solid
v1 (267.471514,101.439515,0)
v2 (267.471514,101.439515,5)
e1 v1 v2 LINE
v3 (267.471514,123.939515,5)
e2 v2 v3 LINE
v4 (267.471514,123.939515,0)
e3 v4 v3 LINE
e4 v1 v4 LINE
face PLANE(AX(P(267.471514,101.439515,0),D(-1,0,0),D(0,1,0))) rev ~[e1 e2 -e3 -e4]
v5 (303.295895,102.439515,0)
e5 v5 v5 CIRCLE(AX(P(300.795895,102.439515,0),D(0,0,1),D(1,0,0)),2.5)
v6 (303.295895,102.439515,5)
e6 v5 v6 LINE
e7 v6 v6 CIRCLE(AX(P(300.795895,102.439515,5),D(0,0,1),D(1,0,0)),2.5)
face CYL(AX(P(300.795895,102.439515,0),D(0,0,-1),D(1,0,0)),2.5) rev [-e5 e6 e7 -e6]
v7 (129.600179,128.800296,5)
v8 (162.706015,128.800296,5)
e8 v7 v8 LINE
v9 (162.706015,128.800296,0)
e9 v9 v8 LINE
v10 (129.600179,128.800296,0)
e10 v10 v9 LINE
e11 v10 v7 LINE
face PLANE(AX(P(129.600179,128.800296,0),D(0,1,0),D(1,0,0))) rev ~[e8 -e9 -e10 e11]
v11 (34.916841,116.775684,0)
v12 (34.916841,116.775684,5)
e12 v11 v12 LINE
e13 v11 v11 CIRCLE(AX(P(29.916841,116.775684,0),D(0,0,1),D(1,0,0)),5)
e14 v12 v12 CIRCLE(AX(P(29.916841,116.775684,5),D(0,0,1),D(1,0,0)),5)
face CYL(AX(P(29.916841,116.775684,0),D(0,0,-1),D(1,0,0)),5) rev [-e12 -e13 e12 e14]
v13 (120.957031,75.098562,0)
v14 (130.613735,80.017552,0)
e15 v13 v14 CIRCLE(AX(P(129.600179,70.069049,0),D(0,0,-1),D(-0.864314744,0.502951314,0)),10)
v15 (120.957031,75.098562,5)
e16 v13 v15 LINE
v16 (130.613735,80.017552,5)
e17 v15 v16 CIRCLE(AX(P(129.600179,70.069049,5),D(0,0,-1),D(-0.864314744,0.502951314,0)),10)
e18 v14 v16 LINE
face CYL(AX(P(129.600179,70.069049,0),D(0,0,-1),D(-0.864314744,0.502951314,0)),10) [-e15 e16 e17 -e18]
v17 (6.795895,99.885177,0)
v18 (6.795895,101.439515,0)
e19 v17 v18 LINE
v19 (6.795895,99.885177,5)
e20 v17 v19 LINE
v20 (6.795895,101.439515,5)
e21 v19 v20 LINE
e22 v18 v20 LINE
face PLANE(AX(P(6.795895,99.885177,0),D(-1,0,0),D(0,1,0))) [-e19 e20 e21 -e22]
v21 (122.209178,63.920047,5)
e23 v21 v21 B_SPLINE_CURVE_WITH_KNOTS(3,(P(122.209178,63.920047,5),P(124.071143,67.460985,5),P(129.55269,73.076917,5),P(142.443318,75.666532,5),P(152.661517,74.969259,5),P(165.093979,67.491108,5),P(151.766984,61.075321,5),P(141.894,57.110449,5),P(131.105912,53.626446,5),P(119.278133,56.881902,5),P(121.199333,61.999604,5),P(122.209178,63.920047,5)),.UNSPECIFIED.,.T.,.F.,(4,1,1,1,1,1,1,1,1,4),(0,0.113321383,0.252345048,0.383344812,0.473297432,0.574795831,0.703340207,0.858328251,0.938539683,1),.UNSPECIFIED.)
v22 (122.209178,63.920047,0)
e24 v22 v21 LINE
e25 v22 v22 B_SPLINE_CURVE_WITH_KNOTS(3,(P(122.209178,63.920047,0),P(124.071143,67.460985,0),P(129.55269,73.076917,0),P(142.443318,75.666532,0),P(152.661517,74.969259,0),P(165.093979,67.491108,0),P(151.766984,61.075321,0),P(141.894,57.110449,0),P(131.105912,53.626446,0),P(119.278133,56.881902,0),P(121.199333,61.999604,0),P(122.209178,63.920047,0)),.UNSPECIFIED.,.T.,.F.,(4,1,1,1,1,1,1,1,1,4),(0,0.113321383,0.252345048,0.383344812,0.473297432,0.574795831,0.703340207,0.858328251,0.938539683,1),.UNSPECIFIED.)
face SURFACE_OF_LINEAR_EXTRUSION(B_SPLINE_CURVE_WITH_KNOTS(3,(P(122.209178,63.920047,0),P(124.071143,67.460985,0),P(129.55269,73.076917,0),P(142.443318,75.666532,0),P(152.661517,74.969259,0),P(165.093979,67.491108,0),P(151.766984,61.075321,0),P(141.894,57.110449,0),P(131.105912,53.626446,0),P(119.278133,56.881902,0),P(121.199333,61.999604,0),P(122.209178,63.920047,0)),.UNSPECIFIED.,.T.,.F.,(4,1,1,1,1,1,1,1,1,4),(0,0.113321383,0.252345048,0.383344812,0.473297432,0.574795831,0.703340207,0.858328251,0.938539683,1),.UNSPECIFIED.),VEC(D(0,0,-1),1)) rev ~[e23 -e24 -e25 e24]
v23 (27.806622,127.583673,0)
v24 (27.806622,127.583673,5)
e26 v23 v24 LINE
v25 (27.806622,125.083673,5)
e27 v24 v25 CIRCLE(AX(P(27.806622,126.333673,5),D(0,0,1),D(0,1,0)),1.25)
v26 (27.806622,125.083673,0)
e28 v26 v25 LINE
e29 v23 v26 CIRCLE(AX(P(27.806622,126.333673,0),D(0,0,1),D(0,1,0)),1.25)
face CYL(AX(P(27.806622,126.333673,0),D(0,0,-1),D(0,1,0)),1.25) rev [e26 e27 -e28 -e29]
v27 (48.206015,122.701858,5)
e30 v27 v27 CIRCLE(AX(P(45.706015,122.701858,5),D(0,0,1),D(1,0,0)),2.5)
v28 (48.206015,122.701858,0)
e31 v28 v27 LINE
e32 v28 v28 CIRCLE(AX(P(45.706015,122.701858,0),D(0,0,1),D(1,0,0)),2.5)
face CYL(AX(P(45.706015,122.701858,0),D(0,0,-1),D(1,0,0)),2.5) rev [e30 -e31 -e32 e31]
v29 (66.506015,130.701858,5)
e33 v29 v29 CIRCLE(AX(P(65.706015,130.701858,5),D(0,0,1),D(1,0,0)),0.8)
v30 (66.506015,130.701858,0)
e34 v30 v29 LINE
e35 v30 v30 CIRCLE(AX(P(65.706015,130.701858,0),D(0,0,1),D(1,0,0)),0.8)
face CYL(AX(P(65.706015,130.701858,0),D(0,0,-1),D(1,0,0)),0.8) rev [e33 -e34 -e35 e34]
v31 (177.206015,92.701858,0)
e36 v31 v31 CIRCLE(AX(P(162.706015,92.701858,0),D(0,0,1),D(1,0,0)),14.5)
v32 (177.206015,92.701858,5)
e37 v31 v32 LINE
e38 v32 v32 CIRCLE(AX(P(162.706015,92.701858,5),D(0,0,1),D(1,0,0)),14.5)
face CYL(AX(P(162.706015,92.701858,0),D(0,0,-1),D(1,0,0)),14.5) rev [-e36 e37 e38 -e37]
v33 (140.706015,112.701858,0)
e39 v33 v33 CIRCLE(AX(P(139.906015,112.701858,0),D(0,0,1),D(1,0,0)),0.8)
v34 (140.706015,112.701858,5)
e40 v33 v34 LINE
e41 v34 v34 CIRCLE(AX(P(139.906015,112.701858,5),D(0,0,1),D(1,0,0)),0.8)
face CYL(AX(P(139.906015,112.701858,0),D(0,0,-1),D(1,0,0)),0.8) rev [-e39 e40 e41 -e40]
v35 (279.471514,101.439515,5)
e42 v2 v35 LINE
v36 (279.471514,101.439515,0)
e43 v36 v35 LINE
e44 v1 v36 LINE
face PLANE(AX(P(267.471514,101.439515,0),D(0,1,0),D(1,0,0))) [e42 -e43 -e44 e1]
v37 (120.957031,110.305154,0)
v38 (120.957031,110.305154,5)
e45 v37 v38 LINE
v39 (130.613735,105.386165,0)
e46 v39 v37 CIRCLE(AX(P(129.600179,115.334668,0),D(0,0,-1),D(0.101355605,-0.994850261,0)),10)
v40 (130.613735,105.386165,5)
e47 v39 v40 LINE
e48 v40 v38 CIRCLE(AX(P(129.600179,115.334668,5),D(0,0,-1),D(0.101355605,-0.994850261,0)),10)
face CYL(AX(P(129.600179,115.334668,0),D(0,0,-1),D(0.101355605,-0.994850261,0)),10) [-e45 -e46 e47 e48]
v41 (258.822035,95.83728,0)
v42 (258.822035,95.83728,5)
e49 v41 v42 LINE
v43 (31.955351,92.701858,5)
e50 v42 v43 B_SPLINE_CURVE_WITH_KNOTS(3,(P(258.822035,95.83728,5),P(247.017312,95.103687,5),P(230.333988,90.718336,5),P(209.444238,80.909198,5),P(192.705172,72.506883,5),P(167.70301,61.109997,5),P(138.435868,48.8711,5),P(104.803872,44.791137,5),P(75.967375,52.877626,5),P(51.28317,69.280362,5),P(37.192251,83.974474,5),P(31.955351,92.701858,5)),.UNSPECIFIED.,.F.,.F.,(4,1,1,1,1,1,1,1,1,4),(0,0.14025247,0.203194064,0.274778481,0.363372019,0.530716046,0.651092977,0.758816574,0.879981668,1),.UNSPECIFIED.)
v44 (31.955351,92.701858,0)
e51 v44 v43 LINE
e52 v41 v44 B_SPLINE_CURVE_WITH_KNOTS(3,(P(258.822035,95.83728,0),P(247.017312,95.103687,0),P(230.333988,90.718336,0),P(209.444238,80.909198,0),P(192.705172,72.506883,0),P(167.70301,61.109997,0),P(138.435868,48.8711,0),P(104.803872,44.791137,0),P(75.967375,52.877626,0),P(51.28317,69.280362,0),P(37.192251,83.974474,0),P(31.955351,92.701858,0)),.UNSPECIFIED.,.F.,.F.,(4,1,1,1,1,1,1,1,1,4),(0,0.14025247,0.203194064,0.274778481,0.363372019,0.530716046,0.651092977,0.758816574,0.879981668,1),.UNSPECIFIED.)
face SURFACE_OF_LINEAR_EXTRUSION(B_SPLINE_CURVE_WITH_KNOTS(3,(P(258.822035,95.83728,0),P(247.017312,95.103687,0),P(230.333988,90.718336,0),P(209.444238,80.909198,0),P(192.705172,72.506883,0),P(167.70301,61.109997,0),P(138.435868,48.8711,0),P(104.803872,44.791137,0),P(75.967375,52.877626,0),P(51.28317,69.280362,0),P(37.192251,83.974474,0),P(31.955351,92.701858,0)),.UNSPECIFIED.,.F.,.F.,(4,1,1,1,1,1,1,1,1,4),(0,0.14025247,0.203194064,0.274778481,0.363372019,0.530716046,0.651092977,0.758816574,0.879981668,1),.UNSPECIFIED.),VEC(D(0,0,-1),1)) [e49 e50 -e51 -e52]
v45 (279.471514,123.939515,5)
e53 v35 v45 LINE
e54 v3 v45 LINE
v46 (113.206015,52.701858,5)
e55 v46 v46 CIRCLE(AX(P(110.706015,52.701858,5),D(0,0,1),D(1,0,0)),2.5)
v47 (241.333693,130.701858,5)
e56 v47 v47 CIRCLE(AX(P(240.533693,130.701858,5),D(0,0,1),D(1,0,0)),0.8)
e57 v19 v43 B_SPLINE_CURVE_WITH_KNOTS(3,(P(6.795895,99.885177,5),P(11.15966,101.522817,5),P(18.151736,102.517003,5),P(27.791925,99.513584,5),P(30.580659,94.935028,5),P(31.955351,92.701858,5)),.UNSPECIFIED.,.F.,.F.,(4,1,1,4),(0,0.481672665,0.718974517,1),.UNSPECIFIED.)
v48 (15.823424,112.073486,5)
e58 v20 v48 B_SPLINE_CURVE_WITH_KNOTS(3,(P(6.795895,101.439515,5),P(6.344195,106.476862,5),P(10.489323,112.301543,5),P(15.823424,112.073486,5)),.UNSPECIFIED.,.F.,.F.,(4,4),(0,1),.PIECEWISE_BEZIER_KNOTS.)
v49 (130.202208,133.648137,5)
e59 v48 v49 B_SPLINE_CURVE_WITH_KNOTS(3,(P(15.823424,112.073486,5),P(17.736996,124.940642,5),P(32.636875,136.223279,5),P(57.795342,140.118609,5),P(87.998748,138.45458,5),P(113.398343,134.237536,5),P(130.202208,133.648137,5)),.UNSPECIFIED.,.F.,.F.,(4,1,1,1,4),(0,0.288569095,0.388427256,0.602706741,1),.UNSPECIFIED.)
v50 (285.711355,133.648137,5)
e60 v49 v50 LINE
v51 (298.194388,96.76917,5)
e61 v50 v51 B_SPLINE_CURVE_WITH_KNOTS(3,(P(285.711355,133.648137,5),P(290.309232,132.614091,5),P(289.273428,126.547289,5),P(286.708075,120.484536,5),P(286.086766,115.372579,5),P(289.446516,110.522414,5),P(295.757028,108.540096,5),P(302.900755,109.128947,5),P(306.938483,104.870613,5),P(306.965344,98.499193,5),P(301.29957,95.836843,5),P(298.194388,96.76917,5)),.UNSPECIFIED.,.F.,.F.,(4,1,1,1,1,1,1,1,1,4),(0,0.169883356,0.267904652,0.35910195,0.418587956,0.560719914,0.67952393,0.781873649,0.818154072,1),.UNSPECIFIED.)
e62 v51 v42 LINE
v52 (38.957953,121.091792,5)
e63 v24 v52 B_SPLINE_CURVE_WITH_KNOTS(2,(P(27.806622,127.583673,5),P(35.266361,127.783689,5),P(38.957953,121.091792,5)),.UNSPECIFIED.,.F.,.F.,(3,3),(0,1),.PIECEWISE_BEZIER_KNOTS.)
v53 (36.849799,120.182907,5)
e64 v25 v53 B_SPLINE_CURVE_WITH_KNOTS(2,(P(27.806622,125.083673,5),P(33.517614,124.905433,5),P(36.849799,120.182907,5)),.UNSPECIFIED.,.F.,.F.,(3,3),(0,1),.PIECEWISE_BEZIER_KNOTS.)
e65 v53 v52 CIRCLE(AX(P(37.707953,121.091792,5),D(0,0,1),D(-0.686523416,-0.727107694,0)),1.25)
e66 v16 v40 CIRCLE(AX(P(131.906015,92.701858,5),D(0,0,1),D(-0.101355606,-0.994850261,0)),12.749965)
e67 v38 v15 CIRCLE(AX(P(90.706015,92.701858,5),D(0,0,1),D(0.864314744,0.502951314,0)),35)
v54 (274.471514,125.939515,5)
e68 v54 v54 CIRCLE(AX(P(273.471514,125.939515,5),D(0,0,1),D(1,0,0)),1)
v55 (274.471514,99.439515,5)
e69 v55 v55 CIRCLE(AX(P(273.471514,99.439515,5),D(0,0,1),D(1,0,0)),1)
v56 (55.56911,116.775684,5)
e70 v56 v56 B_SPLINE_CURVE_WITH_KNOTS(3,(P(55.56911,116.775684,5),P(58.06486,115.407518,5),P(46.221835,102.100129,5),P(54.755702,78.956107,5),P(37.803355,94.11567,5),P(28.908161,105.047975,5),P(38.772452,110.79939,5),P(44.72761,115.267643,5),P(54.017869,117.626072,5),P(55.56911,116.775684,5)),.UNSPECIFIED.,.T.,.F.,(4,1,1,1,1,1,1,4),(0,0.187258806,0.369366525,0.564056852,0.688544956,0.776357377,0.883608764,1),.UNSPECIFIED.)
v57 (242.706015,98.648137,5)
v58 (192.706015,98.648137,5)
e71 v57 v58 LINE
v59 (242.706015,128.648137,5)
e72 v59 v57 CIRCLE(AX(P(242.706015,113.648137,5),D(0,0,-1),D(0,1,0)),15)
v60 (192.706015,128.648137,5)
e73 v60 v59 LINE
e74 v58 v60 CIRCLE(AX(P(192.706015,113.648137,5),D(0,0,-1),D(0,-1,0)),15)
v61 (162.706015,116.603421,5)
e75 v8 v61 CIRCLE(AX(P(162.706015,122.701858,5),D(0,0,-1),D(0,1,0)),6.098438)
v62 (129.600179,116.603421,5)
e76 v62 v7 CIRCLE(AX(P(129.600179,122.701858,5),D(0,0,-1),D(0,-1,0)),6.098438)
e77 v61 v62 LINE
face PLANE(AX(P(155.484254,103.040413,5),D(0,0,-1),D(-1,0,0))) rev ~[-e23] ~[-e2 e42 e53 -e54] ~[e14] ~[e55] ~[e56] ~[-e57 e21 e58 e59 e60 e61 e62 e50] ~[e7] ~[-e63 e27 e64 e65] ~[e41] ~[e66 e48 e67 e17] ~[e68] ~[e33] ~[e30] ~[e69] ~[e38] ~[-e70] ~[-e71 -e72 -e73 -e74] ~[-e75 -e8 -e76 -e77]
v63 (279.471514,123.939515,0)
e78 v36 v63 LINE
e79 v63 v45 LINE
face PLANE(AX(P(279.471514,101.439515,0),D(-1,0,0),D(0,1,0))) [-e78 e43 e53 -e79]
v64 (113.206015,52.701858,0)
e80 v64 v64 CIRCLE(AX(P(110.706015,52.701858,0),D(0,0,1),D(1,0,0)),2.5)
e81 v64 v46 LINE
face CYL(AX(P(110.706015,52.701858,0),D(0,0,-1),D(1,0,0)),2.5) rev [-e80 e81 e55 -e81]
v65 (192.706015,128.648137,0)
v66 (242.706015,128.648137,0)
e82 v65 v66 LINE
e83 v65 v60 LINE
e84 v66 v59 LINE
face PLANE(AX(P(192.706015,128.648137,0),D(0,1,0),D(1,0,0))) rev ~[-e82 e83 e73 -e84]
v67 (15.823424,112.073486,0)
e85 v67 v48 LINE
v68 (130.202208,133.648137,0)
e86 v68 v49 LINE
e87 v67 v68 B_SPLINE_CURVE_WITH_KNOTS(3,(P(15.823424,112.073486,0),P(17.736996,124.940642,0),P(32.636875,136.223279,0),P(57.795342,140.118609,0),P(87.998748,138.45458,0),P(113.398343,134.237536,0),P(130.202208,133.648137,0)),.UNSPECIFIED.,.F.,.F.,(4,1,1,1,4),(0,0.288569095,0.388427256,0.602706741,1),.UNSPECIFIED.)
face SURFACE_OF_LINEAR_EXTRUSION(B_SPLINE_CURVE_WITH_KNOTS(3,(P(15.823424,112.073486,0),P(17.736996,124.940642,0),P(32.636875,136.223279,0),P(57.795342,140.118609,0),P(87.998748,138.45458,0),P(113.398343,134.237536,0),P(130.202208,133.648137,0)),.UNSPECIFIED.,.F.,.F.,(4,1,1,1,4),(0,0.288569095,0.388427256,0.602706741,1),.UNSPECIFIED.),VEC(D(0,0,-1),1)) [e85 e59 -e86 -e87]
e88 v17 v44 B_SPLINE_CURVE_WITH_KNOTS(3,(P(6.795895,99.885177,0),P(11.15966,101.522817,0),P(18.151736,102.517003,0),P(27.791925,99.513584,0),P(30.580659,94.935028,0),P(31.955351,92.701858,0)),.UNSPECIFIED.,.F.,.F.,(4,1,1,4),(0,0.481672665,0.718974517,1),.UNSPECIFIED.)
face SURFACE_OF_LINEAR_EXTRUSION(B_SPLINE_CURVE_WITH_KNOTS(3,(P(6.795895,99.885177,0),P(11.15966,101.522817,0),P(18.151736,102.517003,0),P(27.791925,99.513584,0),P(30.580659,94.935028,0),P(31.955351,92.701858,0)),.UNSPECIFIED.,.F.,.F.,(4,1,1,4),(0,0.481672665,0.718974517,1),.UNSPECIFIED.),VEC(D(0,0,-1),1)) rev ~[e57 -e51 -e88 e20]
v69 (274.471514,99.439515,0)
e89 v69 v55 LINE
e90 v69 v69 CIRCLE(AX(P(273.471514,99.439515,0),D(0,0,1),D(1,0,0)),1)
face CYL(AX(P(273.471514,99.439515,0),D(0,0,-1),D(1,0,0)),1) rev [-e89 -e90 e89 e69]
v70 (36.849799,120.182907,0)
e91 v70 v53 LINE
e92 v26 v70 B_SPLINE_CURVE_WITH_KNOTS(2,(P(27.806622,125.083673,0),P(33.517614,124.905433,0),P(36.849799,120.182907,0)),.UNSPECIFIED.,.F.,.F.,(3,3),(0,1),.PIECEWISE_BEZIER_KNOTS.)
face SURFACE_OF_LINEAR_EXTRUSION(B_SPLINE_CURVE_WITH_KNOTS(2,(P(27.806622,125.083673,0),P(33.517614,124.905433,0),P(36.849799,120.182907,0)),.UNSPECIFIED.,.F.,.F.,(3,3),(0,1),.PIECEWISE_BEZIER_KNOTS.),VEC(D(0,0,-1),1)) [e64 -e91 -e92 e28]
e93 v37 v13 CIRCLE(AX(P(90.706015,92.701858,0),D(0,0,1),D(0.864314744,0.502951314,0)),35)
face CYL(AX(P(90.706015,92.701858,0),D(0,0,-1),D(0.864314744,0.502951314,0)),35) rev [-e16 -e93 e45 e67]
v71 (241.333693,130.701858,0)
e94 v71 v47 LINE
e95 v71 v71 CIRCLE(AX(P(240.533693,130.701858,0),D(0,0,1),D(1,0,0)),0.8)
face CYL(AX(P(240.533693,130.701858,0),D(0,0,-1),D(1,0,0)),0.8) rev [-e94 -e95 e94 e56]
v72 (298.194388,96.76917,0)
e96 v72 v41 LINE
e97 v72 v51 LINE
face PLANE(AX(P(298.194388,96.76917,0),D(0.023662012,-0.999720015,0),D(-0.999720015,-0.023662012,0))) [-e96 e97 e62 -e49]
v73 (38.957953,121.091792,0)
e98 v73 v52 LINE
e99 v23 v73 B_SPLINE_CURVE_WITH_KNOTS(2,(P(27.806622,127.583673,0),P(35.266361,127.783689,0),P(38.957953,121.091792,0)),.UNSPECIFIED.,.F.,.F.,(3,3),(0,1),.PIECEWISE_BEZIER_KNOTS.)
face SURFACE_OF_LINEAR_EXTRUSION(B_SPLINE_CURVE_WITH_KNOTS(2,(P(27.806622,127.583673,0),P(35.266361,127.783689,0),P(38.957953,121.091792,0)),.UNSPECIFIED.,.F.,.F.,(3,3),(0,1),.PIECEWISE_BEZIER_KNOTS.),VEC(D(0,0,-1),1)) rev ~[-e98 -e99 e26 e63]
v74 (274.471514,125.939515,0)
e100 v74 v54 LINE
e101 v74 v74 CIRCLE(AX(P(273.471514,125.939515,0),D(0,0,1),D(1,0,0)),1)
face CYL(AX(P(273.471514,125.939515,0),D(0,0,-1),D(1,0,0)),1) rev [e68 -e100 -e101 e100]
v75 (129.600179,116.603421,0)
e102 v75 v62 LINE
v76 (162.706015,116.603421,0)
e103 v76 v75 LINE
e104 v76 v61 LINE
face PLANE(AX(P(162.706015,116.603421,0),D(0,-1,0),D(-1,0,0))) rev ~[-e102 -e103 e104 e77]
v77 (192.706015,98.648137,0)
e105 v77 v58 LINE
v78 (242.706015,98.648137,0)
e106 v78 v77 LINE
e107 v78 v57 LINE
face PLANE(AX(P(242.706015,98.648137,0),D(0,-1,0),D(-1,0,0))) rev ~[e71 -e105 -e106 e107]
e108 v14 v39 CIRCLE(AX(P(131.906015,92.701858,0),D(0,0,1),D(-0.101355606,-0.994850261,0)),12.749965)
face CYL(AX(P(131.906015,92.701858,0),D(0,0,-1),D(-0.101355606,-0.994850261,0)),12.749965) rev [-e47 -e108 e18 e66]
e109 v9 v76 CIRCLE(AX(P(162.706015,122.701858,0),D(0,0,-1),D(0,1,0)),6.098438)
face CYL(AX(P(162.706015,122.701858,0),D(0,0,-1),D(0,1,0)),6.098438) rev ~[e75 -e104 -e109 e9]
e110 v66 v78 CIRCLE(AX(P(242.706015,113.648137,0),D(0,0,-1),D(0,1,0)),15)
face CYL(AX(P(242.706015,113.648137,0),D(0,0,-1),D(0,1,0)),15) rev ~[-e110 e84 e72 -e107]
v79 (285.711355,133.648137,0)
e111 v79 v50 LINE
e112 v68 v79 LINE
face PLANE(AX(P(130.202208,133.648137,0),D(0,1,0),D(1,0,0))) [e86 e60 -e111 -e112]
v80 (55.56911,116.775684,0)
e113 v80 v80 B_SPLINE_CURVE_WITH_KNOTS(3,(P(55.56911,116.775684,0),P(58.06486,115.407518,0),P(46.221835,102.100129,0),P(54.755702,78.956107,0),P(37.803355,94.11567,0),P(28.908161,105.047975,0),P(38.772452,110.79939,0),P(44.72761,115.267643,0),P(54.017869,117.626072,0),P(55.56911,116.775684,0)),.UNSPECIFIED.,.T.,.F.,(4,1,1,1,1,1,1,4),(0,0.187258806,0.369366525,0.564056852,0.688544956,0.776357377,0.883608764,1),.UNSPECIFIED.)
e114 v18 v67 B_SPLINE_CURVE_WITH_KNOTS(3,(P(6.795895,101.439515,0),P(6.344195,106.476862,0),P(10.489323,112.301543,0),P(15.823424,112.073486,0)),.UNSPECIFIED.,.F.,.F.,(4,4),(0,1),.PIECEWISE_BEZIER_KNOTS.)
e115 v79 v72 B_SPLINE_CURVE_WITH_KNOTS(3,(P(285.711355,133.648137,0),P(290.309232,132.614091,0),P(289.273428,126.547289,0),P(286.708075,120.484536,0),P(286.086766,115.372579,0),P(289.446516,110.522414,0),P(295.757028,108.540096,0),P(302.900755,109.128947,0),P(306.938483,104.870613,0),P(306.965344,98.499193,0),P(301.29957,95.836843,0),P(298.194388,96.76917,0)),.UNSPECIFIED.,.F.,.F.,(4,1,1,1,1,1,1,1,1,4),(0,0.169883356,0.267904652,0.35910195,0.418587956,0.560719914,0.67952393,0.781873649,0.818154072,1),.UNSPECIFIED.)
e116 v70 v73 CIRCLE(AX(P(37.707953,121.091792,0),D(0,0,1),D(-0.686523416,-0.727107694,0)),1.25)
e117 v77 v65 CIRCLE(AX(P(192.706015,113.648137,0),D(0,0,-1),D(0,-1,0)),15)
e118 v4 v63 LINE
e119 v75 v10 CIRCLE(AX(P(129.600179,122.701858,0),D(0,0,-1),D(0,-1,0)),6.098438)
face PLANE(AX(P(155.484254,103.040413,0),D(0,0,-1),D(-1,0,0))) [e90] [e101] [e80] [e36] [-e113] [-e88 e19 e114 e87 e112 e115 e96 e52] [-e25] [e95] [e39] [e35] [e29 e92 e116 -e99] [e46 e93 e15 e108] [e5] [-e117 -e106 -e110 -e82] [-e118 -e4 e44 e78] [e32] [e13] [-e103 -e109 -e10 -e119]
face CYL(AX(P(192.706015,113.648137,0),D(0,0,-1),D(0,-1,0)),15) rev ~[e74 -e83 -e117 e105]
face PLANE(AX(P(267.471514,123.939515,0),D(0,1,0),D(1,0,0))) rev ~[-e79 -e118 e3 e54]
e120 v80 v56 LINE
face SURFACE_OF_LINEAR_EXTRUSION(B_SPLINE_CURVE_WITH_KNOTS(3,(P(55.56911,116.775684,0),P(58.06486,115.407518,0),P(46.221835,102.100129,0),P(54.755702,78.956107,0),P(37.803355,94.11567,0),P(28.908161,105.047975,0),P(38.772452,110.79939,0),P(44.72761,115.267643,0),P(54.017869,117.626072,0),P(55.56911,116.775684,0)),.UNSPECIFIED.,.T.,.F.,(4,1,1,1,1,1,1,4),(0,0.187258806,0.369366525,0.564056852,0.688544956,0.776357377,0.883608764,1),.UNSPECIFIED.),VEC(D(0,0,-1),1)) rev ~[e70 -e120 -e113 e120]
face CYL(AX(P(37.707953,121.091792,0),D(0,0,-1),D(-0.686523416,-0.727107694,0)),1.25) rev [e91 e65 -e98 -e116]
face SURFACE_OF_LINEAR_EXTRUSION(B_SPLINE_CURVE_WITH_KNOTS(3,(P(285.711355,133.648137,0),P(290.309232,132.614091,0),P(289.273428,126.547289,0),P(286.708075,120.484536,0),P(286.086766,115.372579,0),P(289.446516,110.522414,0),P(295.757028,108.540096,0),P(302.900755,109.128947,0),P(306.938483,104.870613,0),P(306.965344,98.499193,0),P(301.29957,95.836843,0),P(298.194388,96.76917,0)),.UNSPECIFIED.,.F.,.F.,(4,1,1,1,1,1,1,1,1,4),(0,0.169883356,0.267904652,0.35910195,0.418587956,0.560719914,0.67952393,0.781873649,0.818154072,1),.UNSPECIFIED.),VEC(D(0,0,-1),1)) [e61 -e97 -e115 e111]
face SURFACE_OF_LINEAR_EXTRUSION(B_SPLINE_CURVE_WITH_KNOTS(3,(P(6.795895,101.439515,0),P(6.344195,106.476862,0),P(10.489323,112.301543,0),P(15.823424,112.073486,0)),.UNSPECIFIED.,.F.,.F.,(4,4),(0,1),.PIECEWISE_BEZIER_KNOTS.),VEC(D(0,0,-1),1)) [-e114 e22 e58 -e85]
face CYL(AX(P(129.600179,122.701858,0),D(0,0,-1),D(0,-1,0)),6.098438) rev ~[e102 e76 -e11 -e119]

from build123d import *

# Parameters (mm, degrees)
SKETCH3_R           = 5
SKETCH3_R_2         = 14.5
SKETCH3_R_3         = 2.5
SKETCH3_R_4         = 0.8
SKETCH3_R_5         = 1
SKETCH3_W           = 12
SKETCH3_H           = 22.5
BOSS_EXTRUDE1_DEPTH = 5


with BuildPart() as part:
    # Sketch3 → Boss-Extrude1 (new body)
    with BuildSketch(Plane.XY):
        with BuildLine():
            Line((130.202207667, 133.648137476), (285.7113551, 133.648137476))
            add(Edge.make_bspline(
                [(285.7113551, 133.648137476), (290.309231982, 132.614090904), (289.273428409, 126.547289319), (286.708075229, 120.48453562), (286.086765627, 115.372579006), (289.446515851, 110.522413853), (295.757028465, 108.540096459), (302.900755451, 109.128946912), (306.938482979, 104.870613349), (306.965344479, 98.499192812), (301.299570036, 95.836843498), (298.194388489, 96.769170109)],
                knots=[0, 0, 0, 0, 0.169883356, 0.267904652, 0.35910195, 0.418587956, 0.560719914, 0.67952393, 0.781873649, 0.818154072, 1, 1, 1, 1], degree=3))
            Line((298.194388489, 96.769170109), (258.822035056, 95.837280087))
            add(Edge.make_bspline(
                [(258.822035056, 95.837280087), (247.017312141, 95.103687357), (230.333987707, 90.718335552), (209.444238318, 80.909197853), (192.705172023, 72.506882651), (167.703009745, 61.109996502), (138.435868304, 48.871100202), (104.803872383, 44.791136534), (75.967374894, 52.877626112), (51.283170012, 69.280361811), (37.192250509, 83.974473902), (31.955350622, 92.70185845)],
                knots=[0, 0, 0, 0, 0.14025247, 0.203194064, 0.274778481, 0.363372019, 0.530716046, 0.651092977, 0.758816574, 0.879981668, 1, 1, 1, 1], degree=3))
            add(Edge.make_bspline(
                [(6.79589492, 99.88517737), (11.159659609, 101.522816847), (18.151736453, 102.517002576), (27.791925077, 99.513583762), (30.58065878, 94.935027932), (31.955350622, 92.70185845)],
                knots=[0, 0, 0, 0, 0.481672665, 0.718974517, 1, 1, 1, 1], degree=3))
            Line((6.79589492, 99.88517737), (6.79589492, 101.439514635))
            add(Edge.make_bspline(
                [(6.79589492, 101.439514635), (6.344194928, 106.476861801), (10.489323027, 112.301543457), (15.823424194, 112.07348563)],
                knots=[0, 0, 0, 0, 1, 1, 1, 1], degree=3))
            add(Edge.make_bspline(
                [(15.823424194, 112.07348563), (17.736995843, 124.940641906), (32.636875141, 136.223279448), (57.795341928, 140.118608734), (87.99874752, 138.454580265), (113.398342921, 134.237536283), (130.202207667, 133.648137476)],
                knots=[0, 0, 0, 0, 0.288569095, 0.388427256, 0.602706741, 1, 1, 1, 1], degree=3))
        make_face()
        with Locations((29.916841198, 116.77568402)):
            Circle(SKETCH3_R, mode=Mode.SUBTRACT)
        with Locations((162.706015246, 92.70185845)):
            Circle(SKETCH3_R_2, mode=Mode.SUBTRACT)
        with Locations((45.706015246, 122.70185845)):
            Circle(SKETCH3_R_3, mode=Mode.SUBTRACT)
        with Locations((110.706015246, 52.70185845)):
            Circle(SKETCH3_R_3, mode=Mode.SUBTRACT)
        with Locations((139.906015246, 112.70185845)):
            Circle(SKETCH3_R_4, mode=Mode.SUBTRACT)
        with Locations((65.706015246, 130.70185845)):
            Circle(SKETCH3_R_4, mode=Mode.SUBTRACT)
        with Locations((240.533693373, 130.70185845)):
            Circle(SKETCH3_R_4, mode=Mode.SUBTRACT)
        with Locations((273.471513959, 99.439514635)):
            Circle(SKETCH3_R_5, mode=Mode.SUBTRACT)
        with Locations((273.471513959, 125.939514635)):
            Circle(SKETCH3_R_5, mode=Mode.SUBTRACT)
        with Locations((300.79589492, 102.439514635)):
            Circle(SKETCH3_R_3, mode=Mode.SUBTRACT)
        with BuildLine():
            add(Edge.make_bspline(
                [(122.209177881, 63.920046831), (124.071143432, 67.46098543), (129.552690029, 73.076916894), (142.443318239, 75.666531835), (152.661516952, 74.969258802), (165.093978536, 67.491108066), (151.766983783, 61.075321044), (141.8940002, 57.110448814), (131.105911986, 53.626446027), (119.278132968, 56.881901514), (121.199333237, 61.999604275), (122.209177881, 63.920046831)],
                knots=[0, 0, 0, 0, 0.113321383, 0.252345048, 0.383344812, 0.473297432, 0.574795831, 0.703340207, 0.858328251, 0.938539683, 1, 1, 1, 1], degree=3))
        make_face(mode=Mode.SUBTRACT)
        with BuildLine():
            add(Edge.make_bspline(
                [(55.569109559, 116.77568402), (58.06486019, 115.40751755), (46.221835448, 102.100129237), (54.755702164, 78.95610702), (37.80335454, 94.115669857), (28.908160657, 105.04797482), (38.772452492, 110.799390458), (44.727609723, 115.267642921), (54.017868755, 117.626071727), (55.569109559, 116.77568402)],
                knots=[0, 0, 0, 0, 0.187258806, 0.369366525, 0.564056852, 0.688544956, 0.776357377, 0.883608764, 1, 1, 1, 1], degree=3))
        make_face(mode=Mode.SUBTRACT)
        with BuildLine():
            Line((129.600178714, 128.800296002), (162.706015246, 128.800296002))
            ThreePointArc((162.706015246, 128.800296002), (168.804452797, 122.70185845), (162.706015246, 116.603420898))
            Line((162.706015246, 116.603420898), (129.600178714, 116.603420898))
            ThreePointArc((129.600178714, 116.603420898), (123.501741162, 122.70185845), (129.600178714, 128.800296002))
        make_face(mode=Mode.SUBTRACT)
        with BuildLine():
            Line((192.706015246, 128.648137476), (242.706015246, 128.648137476))
            ThreePointArc((242.706015246, 128.648137476), (257.706015246, 113.648137476), (242.706015246, 98.648137476))
            Line((242.706015246, 98.648137476), (192.706015246, 98.648137476))
            ThreePointArc((192.706015246, 98.648137476), (177.706015246, 113.648137476), (192.706015246, 128.648137476))
        make_face(mode=Mode.SUBTRACT)
        with Locations((273.471513959, 112.689514635)):
            Rectangle(SKETCH3_W, SKETCH3_H, mode=Mode.SUBTRACT)
        with BuildLine():
            ThreePointArc((120.957031276, 110.305154423), (55.706015246, 92.70185845), (120.957031276, 75.098562477))
            ThreePointArc((120.957031276, 75.098562477), (125.061260284, 78.979617196), (130.61373477, 80.017551949))
            ThreePointArc((130.61373477, 80.017551949), (144.655980745, 92.70185845), (130.61373477, 105.386164951))
            ThreePointArc((130.61373477, 105.386164951), (125.061260284, 106.424099704), (120.957031276, 110.305154423))
        make_face(mode=Mode.SUBTRACT)
        with BuildLine():
            ThreePointArc((27.806621893, 127.583672906), (26.556621893, 126.333672906), (27.806621893, 125.083672906))
            add(Edge.make_bspline(
                [(27.806621893, 125.083672906), (33.517614218, 124.90543335), (36.849799109, 120.182906914)],
                knots=[0, 0, 0, 1, 1, 1], degree=2))
            ThreePointArc((36.849799109, 120.182906914), (38.202830718, 119.943925504), (38.957953378, 121.091791532))
            add(Edge.make_bspline(
                [(27.806621893, 127.583672906), (35.266361108, 127.783688979), (38.957953378, 121.091791532)],
                knots=[0, 0, 0, 1, 1, 1], degree=2))
        make_face(mode=Mode.SUBTRACT)
    extrude(amount=BOSS_EXTRUDE1_DEPTH)


solid = part.part
